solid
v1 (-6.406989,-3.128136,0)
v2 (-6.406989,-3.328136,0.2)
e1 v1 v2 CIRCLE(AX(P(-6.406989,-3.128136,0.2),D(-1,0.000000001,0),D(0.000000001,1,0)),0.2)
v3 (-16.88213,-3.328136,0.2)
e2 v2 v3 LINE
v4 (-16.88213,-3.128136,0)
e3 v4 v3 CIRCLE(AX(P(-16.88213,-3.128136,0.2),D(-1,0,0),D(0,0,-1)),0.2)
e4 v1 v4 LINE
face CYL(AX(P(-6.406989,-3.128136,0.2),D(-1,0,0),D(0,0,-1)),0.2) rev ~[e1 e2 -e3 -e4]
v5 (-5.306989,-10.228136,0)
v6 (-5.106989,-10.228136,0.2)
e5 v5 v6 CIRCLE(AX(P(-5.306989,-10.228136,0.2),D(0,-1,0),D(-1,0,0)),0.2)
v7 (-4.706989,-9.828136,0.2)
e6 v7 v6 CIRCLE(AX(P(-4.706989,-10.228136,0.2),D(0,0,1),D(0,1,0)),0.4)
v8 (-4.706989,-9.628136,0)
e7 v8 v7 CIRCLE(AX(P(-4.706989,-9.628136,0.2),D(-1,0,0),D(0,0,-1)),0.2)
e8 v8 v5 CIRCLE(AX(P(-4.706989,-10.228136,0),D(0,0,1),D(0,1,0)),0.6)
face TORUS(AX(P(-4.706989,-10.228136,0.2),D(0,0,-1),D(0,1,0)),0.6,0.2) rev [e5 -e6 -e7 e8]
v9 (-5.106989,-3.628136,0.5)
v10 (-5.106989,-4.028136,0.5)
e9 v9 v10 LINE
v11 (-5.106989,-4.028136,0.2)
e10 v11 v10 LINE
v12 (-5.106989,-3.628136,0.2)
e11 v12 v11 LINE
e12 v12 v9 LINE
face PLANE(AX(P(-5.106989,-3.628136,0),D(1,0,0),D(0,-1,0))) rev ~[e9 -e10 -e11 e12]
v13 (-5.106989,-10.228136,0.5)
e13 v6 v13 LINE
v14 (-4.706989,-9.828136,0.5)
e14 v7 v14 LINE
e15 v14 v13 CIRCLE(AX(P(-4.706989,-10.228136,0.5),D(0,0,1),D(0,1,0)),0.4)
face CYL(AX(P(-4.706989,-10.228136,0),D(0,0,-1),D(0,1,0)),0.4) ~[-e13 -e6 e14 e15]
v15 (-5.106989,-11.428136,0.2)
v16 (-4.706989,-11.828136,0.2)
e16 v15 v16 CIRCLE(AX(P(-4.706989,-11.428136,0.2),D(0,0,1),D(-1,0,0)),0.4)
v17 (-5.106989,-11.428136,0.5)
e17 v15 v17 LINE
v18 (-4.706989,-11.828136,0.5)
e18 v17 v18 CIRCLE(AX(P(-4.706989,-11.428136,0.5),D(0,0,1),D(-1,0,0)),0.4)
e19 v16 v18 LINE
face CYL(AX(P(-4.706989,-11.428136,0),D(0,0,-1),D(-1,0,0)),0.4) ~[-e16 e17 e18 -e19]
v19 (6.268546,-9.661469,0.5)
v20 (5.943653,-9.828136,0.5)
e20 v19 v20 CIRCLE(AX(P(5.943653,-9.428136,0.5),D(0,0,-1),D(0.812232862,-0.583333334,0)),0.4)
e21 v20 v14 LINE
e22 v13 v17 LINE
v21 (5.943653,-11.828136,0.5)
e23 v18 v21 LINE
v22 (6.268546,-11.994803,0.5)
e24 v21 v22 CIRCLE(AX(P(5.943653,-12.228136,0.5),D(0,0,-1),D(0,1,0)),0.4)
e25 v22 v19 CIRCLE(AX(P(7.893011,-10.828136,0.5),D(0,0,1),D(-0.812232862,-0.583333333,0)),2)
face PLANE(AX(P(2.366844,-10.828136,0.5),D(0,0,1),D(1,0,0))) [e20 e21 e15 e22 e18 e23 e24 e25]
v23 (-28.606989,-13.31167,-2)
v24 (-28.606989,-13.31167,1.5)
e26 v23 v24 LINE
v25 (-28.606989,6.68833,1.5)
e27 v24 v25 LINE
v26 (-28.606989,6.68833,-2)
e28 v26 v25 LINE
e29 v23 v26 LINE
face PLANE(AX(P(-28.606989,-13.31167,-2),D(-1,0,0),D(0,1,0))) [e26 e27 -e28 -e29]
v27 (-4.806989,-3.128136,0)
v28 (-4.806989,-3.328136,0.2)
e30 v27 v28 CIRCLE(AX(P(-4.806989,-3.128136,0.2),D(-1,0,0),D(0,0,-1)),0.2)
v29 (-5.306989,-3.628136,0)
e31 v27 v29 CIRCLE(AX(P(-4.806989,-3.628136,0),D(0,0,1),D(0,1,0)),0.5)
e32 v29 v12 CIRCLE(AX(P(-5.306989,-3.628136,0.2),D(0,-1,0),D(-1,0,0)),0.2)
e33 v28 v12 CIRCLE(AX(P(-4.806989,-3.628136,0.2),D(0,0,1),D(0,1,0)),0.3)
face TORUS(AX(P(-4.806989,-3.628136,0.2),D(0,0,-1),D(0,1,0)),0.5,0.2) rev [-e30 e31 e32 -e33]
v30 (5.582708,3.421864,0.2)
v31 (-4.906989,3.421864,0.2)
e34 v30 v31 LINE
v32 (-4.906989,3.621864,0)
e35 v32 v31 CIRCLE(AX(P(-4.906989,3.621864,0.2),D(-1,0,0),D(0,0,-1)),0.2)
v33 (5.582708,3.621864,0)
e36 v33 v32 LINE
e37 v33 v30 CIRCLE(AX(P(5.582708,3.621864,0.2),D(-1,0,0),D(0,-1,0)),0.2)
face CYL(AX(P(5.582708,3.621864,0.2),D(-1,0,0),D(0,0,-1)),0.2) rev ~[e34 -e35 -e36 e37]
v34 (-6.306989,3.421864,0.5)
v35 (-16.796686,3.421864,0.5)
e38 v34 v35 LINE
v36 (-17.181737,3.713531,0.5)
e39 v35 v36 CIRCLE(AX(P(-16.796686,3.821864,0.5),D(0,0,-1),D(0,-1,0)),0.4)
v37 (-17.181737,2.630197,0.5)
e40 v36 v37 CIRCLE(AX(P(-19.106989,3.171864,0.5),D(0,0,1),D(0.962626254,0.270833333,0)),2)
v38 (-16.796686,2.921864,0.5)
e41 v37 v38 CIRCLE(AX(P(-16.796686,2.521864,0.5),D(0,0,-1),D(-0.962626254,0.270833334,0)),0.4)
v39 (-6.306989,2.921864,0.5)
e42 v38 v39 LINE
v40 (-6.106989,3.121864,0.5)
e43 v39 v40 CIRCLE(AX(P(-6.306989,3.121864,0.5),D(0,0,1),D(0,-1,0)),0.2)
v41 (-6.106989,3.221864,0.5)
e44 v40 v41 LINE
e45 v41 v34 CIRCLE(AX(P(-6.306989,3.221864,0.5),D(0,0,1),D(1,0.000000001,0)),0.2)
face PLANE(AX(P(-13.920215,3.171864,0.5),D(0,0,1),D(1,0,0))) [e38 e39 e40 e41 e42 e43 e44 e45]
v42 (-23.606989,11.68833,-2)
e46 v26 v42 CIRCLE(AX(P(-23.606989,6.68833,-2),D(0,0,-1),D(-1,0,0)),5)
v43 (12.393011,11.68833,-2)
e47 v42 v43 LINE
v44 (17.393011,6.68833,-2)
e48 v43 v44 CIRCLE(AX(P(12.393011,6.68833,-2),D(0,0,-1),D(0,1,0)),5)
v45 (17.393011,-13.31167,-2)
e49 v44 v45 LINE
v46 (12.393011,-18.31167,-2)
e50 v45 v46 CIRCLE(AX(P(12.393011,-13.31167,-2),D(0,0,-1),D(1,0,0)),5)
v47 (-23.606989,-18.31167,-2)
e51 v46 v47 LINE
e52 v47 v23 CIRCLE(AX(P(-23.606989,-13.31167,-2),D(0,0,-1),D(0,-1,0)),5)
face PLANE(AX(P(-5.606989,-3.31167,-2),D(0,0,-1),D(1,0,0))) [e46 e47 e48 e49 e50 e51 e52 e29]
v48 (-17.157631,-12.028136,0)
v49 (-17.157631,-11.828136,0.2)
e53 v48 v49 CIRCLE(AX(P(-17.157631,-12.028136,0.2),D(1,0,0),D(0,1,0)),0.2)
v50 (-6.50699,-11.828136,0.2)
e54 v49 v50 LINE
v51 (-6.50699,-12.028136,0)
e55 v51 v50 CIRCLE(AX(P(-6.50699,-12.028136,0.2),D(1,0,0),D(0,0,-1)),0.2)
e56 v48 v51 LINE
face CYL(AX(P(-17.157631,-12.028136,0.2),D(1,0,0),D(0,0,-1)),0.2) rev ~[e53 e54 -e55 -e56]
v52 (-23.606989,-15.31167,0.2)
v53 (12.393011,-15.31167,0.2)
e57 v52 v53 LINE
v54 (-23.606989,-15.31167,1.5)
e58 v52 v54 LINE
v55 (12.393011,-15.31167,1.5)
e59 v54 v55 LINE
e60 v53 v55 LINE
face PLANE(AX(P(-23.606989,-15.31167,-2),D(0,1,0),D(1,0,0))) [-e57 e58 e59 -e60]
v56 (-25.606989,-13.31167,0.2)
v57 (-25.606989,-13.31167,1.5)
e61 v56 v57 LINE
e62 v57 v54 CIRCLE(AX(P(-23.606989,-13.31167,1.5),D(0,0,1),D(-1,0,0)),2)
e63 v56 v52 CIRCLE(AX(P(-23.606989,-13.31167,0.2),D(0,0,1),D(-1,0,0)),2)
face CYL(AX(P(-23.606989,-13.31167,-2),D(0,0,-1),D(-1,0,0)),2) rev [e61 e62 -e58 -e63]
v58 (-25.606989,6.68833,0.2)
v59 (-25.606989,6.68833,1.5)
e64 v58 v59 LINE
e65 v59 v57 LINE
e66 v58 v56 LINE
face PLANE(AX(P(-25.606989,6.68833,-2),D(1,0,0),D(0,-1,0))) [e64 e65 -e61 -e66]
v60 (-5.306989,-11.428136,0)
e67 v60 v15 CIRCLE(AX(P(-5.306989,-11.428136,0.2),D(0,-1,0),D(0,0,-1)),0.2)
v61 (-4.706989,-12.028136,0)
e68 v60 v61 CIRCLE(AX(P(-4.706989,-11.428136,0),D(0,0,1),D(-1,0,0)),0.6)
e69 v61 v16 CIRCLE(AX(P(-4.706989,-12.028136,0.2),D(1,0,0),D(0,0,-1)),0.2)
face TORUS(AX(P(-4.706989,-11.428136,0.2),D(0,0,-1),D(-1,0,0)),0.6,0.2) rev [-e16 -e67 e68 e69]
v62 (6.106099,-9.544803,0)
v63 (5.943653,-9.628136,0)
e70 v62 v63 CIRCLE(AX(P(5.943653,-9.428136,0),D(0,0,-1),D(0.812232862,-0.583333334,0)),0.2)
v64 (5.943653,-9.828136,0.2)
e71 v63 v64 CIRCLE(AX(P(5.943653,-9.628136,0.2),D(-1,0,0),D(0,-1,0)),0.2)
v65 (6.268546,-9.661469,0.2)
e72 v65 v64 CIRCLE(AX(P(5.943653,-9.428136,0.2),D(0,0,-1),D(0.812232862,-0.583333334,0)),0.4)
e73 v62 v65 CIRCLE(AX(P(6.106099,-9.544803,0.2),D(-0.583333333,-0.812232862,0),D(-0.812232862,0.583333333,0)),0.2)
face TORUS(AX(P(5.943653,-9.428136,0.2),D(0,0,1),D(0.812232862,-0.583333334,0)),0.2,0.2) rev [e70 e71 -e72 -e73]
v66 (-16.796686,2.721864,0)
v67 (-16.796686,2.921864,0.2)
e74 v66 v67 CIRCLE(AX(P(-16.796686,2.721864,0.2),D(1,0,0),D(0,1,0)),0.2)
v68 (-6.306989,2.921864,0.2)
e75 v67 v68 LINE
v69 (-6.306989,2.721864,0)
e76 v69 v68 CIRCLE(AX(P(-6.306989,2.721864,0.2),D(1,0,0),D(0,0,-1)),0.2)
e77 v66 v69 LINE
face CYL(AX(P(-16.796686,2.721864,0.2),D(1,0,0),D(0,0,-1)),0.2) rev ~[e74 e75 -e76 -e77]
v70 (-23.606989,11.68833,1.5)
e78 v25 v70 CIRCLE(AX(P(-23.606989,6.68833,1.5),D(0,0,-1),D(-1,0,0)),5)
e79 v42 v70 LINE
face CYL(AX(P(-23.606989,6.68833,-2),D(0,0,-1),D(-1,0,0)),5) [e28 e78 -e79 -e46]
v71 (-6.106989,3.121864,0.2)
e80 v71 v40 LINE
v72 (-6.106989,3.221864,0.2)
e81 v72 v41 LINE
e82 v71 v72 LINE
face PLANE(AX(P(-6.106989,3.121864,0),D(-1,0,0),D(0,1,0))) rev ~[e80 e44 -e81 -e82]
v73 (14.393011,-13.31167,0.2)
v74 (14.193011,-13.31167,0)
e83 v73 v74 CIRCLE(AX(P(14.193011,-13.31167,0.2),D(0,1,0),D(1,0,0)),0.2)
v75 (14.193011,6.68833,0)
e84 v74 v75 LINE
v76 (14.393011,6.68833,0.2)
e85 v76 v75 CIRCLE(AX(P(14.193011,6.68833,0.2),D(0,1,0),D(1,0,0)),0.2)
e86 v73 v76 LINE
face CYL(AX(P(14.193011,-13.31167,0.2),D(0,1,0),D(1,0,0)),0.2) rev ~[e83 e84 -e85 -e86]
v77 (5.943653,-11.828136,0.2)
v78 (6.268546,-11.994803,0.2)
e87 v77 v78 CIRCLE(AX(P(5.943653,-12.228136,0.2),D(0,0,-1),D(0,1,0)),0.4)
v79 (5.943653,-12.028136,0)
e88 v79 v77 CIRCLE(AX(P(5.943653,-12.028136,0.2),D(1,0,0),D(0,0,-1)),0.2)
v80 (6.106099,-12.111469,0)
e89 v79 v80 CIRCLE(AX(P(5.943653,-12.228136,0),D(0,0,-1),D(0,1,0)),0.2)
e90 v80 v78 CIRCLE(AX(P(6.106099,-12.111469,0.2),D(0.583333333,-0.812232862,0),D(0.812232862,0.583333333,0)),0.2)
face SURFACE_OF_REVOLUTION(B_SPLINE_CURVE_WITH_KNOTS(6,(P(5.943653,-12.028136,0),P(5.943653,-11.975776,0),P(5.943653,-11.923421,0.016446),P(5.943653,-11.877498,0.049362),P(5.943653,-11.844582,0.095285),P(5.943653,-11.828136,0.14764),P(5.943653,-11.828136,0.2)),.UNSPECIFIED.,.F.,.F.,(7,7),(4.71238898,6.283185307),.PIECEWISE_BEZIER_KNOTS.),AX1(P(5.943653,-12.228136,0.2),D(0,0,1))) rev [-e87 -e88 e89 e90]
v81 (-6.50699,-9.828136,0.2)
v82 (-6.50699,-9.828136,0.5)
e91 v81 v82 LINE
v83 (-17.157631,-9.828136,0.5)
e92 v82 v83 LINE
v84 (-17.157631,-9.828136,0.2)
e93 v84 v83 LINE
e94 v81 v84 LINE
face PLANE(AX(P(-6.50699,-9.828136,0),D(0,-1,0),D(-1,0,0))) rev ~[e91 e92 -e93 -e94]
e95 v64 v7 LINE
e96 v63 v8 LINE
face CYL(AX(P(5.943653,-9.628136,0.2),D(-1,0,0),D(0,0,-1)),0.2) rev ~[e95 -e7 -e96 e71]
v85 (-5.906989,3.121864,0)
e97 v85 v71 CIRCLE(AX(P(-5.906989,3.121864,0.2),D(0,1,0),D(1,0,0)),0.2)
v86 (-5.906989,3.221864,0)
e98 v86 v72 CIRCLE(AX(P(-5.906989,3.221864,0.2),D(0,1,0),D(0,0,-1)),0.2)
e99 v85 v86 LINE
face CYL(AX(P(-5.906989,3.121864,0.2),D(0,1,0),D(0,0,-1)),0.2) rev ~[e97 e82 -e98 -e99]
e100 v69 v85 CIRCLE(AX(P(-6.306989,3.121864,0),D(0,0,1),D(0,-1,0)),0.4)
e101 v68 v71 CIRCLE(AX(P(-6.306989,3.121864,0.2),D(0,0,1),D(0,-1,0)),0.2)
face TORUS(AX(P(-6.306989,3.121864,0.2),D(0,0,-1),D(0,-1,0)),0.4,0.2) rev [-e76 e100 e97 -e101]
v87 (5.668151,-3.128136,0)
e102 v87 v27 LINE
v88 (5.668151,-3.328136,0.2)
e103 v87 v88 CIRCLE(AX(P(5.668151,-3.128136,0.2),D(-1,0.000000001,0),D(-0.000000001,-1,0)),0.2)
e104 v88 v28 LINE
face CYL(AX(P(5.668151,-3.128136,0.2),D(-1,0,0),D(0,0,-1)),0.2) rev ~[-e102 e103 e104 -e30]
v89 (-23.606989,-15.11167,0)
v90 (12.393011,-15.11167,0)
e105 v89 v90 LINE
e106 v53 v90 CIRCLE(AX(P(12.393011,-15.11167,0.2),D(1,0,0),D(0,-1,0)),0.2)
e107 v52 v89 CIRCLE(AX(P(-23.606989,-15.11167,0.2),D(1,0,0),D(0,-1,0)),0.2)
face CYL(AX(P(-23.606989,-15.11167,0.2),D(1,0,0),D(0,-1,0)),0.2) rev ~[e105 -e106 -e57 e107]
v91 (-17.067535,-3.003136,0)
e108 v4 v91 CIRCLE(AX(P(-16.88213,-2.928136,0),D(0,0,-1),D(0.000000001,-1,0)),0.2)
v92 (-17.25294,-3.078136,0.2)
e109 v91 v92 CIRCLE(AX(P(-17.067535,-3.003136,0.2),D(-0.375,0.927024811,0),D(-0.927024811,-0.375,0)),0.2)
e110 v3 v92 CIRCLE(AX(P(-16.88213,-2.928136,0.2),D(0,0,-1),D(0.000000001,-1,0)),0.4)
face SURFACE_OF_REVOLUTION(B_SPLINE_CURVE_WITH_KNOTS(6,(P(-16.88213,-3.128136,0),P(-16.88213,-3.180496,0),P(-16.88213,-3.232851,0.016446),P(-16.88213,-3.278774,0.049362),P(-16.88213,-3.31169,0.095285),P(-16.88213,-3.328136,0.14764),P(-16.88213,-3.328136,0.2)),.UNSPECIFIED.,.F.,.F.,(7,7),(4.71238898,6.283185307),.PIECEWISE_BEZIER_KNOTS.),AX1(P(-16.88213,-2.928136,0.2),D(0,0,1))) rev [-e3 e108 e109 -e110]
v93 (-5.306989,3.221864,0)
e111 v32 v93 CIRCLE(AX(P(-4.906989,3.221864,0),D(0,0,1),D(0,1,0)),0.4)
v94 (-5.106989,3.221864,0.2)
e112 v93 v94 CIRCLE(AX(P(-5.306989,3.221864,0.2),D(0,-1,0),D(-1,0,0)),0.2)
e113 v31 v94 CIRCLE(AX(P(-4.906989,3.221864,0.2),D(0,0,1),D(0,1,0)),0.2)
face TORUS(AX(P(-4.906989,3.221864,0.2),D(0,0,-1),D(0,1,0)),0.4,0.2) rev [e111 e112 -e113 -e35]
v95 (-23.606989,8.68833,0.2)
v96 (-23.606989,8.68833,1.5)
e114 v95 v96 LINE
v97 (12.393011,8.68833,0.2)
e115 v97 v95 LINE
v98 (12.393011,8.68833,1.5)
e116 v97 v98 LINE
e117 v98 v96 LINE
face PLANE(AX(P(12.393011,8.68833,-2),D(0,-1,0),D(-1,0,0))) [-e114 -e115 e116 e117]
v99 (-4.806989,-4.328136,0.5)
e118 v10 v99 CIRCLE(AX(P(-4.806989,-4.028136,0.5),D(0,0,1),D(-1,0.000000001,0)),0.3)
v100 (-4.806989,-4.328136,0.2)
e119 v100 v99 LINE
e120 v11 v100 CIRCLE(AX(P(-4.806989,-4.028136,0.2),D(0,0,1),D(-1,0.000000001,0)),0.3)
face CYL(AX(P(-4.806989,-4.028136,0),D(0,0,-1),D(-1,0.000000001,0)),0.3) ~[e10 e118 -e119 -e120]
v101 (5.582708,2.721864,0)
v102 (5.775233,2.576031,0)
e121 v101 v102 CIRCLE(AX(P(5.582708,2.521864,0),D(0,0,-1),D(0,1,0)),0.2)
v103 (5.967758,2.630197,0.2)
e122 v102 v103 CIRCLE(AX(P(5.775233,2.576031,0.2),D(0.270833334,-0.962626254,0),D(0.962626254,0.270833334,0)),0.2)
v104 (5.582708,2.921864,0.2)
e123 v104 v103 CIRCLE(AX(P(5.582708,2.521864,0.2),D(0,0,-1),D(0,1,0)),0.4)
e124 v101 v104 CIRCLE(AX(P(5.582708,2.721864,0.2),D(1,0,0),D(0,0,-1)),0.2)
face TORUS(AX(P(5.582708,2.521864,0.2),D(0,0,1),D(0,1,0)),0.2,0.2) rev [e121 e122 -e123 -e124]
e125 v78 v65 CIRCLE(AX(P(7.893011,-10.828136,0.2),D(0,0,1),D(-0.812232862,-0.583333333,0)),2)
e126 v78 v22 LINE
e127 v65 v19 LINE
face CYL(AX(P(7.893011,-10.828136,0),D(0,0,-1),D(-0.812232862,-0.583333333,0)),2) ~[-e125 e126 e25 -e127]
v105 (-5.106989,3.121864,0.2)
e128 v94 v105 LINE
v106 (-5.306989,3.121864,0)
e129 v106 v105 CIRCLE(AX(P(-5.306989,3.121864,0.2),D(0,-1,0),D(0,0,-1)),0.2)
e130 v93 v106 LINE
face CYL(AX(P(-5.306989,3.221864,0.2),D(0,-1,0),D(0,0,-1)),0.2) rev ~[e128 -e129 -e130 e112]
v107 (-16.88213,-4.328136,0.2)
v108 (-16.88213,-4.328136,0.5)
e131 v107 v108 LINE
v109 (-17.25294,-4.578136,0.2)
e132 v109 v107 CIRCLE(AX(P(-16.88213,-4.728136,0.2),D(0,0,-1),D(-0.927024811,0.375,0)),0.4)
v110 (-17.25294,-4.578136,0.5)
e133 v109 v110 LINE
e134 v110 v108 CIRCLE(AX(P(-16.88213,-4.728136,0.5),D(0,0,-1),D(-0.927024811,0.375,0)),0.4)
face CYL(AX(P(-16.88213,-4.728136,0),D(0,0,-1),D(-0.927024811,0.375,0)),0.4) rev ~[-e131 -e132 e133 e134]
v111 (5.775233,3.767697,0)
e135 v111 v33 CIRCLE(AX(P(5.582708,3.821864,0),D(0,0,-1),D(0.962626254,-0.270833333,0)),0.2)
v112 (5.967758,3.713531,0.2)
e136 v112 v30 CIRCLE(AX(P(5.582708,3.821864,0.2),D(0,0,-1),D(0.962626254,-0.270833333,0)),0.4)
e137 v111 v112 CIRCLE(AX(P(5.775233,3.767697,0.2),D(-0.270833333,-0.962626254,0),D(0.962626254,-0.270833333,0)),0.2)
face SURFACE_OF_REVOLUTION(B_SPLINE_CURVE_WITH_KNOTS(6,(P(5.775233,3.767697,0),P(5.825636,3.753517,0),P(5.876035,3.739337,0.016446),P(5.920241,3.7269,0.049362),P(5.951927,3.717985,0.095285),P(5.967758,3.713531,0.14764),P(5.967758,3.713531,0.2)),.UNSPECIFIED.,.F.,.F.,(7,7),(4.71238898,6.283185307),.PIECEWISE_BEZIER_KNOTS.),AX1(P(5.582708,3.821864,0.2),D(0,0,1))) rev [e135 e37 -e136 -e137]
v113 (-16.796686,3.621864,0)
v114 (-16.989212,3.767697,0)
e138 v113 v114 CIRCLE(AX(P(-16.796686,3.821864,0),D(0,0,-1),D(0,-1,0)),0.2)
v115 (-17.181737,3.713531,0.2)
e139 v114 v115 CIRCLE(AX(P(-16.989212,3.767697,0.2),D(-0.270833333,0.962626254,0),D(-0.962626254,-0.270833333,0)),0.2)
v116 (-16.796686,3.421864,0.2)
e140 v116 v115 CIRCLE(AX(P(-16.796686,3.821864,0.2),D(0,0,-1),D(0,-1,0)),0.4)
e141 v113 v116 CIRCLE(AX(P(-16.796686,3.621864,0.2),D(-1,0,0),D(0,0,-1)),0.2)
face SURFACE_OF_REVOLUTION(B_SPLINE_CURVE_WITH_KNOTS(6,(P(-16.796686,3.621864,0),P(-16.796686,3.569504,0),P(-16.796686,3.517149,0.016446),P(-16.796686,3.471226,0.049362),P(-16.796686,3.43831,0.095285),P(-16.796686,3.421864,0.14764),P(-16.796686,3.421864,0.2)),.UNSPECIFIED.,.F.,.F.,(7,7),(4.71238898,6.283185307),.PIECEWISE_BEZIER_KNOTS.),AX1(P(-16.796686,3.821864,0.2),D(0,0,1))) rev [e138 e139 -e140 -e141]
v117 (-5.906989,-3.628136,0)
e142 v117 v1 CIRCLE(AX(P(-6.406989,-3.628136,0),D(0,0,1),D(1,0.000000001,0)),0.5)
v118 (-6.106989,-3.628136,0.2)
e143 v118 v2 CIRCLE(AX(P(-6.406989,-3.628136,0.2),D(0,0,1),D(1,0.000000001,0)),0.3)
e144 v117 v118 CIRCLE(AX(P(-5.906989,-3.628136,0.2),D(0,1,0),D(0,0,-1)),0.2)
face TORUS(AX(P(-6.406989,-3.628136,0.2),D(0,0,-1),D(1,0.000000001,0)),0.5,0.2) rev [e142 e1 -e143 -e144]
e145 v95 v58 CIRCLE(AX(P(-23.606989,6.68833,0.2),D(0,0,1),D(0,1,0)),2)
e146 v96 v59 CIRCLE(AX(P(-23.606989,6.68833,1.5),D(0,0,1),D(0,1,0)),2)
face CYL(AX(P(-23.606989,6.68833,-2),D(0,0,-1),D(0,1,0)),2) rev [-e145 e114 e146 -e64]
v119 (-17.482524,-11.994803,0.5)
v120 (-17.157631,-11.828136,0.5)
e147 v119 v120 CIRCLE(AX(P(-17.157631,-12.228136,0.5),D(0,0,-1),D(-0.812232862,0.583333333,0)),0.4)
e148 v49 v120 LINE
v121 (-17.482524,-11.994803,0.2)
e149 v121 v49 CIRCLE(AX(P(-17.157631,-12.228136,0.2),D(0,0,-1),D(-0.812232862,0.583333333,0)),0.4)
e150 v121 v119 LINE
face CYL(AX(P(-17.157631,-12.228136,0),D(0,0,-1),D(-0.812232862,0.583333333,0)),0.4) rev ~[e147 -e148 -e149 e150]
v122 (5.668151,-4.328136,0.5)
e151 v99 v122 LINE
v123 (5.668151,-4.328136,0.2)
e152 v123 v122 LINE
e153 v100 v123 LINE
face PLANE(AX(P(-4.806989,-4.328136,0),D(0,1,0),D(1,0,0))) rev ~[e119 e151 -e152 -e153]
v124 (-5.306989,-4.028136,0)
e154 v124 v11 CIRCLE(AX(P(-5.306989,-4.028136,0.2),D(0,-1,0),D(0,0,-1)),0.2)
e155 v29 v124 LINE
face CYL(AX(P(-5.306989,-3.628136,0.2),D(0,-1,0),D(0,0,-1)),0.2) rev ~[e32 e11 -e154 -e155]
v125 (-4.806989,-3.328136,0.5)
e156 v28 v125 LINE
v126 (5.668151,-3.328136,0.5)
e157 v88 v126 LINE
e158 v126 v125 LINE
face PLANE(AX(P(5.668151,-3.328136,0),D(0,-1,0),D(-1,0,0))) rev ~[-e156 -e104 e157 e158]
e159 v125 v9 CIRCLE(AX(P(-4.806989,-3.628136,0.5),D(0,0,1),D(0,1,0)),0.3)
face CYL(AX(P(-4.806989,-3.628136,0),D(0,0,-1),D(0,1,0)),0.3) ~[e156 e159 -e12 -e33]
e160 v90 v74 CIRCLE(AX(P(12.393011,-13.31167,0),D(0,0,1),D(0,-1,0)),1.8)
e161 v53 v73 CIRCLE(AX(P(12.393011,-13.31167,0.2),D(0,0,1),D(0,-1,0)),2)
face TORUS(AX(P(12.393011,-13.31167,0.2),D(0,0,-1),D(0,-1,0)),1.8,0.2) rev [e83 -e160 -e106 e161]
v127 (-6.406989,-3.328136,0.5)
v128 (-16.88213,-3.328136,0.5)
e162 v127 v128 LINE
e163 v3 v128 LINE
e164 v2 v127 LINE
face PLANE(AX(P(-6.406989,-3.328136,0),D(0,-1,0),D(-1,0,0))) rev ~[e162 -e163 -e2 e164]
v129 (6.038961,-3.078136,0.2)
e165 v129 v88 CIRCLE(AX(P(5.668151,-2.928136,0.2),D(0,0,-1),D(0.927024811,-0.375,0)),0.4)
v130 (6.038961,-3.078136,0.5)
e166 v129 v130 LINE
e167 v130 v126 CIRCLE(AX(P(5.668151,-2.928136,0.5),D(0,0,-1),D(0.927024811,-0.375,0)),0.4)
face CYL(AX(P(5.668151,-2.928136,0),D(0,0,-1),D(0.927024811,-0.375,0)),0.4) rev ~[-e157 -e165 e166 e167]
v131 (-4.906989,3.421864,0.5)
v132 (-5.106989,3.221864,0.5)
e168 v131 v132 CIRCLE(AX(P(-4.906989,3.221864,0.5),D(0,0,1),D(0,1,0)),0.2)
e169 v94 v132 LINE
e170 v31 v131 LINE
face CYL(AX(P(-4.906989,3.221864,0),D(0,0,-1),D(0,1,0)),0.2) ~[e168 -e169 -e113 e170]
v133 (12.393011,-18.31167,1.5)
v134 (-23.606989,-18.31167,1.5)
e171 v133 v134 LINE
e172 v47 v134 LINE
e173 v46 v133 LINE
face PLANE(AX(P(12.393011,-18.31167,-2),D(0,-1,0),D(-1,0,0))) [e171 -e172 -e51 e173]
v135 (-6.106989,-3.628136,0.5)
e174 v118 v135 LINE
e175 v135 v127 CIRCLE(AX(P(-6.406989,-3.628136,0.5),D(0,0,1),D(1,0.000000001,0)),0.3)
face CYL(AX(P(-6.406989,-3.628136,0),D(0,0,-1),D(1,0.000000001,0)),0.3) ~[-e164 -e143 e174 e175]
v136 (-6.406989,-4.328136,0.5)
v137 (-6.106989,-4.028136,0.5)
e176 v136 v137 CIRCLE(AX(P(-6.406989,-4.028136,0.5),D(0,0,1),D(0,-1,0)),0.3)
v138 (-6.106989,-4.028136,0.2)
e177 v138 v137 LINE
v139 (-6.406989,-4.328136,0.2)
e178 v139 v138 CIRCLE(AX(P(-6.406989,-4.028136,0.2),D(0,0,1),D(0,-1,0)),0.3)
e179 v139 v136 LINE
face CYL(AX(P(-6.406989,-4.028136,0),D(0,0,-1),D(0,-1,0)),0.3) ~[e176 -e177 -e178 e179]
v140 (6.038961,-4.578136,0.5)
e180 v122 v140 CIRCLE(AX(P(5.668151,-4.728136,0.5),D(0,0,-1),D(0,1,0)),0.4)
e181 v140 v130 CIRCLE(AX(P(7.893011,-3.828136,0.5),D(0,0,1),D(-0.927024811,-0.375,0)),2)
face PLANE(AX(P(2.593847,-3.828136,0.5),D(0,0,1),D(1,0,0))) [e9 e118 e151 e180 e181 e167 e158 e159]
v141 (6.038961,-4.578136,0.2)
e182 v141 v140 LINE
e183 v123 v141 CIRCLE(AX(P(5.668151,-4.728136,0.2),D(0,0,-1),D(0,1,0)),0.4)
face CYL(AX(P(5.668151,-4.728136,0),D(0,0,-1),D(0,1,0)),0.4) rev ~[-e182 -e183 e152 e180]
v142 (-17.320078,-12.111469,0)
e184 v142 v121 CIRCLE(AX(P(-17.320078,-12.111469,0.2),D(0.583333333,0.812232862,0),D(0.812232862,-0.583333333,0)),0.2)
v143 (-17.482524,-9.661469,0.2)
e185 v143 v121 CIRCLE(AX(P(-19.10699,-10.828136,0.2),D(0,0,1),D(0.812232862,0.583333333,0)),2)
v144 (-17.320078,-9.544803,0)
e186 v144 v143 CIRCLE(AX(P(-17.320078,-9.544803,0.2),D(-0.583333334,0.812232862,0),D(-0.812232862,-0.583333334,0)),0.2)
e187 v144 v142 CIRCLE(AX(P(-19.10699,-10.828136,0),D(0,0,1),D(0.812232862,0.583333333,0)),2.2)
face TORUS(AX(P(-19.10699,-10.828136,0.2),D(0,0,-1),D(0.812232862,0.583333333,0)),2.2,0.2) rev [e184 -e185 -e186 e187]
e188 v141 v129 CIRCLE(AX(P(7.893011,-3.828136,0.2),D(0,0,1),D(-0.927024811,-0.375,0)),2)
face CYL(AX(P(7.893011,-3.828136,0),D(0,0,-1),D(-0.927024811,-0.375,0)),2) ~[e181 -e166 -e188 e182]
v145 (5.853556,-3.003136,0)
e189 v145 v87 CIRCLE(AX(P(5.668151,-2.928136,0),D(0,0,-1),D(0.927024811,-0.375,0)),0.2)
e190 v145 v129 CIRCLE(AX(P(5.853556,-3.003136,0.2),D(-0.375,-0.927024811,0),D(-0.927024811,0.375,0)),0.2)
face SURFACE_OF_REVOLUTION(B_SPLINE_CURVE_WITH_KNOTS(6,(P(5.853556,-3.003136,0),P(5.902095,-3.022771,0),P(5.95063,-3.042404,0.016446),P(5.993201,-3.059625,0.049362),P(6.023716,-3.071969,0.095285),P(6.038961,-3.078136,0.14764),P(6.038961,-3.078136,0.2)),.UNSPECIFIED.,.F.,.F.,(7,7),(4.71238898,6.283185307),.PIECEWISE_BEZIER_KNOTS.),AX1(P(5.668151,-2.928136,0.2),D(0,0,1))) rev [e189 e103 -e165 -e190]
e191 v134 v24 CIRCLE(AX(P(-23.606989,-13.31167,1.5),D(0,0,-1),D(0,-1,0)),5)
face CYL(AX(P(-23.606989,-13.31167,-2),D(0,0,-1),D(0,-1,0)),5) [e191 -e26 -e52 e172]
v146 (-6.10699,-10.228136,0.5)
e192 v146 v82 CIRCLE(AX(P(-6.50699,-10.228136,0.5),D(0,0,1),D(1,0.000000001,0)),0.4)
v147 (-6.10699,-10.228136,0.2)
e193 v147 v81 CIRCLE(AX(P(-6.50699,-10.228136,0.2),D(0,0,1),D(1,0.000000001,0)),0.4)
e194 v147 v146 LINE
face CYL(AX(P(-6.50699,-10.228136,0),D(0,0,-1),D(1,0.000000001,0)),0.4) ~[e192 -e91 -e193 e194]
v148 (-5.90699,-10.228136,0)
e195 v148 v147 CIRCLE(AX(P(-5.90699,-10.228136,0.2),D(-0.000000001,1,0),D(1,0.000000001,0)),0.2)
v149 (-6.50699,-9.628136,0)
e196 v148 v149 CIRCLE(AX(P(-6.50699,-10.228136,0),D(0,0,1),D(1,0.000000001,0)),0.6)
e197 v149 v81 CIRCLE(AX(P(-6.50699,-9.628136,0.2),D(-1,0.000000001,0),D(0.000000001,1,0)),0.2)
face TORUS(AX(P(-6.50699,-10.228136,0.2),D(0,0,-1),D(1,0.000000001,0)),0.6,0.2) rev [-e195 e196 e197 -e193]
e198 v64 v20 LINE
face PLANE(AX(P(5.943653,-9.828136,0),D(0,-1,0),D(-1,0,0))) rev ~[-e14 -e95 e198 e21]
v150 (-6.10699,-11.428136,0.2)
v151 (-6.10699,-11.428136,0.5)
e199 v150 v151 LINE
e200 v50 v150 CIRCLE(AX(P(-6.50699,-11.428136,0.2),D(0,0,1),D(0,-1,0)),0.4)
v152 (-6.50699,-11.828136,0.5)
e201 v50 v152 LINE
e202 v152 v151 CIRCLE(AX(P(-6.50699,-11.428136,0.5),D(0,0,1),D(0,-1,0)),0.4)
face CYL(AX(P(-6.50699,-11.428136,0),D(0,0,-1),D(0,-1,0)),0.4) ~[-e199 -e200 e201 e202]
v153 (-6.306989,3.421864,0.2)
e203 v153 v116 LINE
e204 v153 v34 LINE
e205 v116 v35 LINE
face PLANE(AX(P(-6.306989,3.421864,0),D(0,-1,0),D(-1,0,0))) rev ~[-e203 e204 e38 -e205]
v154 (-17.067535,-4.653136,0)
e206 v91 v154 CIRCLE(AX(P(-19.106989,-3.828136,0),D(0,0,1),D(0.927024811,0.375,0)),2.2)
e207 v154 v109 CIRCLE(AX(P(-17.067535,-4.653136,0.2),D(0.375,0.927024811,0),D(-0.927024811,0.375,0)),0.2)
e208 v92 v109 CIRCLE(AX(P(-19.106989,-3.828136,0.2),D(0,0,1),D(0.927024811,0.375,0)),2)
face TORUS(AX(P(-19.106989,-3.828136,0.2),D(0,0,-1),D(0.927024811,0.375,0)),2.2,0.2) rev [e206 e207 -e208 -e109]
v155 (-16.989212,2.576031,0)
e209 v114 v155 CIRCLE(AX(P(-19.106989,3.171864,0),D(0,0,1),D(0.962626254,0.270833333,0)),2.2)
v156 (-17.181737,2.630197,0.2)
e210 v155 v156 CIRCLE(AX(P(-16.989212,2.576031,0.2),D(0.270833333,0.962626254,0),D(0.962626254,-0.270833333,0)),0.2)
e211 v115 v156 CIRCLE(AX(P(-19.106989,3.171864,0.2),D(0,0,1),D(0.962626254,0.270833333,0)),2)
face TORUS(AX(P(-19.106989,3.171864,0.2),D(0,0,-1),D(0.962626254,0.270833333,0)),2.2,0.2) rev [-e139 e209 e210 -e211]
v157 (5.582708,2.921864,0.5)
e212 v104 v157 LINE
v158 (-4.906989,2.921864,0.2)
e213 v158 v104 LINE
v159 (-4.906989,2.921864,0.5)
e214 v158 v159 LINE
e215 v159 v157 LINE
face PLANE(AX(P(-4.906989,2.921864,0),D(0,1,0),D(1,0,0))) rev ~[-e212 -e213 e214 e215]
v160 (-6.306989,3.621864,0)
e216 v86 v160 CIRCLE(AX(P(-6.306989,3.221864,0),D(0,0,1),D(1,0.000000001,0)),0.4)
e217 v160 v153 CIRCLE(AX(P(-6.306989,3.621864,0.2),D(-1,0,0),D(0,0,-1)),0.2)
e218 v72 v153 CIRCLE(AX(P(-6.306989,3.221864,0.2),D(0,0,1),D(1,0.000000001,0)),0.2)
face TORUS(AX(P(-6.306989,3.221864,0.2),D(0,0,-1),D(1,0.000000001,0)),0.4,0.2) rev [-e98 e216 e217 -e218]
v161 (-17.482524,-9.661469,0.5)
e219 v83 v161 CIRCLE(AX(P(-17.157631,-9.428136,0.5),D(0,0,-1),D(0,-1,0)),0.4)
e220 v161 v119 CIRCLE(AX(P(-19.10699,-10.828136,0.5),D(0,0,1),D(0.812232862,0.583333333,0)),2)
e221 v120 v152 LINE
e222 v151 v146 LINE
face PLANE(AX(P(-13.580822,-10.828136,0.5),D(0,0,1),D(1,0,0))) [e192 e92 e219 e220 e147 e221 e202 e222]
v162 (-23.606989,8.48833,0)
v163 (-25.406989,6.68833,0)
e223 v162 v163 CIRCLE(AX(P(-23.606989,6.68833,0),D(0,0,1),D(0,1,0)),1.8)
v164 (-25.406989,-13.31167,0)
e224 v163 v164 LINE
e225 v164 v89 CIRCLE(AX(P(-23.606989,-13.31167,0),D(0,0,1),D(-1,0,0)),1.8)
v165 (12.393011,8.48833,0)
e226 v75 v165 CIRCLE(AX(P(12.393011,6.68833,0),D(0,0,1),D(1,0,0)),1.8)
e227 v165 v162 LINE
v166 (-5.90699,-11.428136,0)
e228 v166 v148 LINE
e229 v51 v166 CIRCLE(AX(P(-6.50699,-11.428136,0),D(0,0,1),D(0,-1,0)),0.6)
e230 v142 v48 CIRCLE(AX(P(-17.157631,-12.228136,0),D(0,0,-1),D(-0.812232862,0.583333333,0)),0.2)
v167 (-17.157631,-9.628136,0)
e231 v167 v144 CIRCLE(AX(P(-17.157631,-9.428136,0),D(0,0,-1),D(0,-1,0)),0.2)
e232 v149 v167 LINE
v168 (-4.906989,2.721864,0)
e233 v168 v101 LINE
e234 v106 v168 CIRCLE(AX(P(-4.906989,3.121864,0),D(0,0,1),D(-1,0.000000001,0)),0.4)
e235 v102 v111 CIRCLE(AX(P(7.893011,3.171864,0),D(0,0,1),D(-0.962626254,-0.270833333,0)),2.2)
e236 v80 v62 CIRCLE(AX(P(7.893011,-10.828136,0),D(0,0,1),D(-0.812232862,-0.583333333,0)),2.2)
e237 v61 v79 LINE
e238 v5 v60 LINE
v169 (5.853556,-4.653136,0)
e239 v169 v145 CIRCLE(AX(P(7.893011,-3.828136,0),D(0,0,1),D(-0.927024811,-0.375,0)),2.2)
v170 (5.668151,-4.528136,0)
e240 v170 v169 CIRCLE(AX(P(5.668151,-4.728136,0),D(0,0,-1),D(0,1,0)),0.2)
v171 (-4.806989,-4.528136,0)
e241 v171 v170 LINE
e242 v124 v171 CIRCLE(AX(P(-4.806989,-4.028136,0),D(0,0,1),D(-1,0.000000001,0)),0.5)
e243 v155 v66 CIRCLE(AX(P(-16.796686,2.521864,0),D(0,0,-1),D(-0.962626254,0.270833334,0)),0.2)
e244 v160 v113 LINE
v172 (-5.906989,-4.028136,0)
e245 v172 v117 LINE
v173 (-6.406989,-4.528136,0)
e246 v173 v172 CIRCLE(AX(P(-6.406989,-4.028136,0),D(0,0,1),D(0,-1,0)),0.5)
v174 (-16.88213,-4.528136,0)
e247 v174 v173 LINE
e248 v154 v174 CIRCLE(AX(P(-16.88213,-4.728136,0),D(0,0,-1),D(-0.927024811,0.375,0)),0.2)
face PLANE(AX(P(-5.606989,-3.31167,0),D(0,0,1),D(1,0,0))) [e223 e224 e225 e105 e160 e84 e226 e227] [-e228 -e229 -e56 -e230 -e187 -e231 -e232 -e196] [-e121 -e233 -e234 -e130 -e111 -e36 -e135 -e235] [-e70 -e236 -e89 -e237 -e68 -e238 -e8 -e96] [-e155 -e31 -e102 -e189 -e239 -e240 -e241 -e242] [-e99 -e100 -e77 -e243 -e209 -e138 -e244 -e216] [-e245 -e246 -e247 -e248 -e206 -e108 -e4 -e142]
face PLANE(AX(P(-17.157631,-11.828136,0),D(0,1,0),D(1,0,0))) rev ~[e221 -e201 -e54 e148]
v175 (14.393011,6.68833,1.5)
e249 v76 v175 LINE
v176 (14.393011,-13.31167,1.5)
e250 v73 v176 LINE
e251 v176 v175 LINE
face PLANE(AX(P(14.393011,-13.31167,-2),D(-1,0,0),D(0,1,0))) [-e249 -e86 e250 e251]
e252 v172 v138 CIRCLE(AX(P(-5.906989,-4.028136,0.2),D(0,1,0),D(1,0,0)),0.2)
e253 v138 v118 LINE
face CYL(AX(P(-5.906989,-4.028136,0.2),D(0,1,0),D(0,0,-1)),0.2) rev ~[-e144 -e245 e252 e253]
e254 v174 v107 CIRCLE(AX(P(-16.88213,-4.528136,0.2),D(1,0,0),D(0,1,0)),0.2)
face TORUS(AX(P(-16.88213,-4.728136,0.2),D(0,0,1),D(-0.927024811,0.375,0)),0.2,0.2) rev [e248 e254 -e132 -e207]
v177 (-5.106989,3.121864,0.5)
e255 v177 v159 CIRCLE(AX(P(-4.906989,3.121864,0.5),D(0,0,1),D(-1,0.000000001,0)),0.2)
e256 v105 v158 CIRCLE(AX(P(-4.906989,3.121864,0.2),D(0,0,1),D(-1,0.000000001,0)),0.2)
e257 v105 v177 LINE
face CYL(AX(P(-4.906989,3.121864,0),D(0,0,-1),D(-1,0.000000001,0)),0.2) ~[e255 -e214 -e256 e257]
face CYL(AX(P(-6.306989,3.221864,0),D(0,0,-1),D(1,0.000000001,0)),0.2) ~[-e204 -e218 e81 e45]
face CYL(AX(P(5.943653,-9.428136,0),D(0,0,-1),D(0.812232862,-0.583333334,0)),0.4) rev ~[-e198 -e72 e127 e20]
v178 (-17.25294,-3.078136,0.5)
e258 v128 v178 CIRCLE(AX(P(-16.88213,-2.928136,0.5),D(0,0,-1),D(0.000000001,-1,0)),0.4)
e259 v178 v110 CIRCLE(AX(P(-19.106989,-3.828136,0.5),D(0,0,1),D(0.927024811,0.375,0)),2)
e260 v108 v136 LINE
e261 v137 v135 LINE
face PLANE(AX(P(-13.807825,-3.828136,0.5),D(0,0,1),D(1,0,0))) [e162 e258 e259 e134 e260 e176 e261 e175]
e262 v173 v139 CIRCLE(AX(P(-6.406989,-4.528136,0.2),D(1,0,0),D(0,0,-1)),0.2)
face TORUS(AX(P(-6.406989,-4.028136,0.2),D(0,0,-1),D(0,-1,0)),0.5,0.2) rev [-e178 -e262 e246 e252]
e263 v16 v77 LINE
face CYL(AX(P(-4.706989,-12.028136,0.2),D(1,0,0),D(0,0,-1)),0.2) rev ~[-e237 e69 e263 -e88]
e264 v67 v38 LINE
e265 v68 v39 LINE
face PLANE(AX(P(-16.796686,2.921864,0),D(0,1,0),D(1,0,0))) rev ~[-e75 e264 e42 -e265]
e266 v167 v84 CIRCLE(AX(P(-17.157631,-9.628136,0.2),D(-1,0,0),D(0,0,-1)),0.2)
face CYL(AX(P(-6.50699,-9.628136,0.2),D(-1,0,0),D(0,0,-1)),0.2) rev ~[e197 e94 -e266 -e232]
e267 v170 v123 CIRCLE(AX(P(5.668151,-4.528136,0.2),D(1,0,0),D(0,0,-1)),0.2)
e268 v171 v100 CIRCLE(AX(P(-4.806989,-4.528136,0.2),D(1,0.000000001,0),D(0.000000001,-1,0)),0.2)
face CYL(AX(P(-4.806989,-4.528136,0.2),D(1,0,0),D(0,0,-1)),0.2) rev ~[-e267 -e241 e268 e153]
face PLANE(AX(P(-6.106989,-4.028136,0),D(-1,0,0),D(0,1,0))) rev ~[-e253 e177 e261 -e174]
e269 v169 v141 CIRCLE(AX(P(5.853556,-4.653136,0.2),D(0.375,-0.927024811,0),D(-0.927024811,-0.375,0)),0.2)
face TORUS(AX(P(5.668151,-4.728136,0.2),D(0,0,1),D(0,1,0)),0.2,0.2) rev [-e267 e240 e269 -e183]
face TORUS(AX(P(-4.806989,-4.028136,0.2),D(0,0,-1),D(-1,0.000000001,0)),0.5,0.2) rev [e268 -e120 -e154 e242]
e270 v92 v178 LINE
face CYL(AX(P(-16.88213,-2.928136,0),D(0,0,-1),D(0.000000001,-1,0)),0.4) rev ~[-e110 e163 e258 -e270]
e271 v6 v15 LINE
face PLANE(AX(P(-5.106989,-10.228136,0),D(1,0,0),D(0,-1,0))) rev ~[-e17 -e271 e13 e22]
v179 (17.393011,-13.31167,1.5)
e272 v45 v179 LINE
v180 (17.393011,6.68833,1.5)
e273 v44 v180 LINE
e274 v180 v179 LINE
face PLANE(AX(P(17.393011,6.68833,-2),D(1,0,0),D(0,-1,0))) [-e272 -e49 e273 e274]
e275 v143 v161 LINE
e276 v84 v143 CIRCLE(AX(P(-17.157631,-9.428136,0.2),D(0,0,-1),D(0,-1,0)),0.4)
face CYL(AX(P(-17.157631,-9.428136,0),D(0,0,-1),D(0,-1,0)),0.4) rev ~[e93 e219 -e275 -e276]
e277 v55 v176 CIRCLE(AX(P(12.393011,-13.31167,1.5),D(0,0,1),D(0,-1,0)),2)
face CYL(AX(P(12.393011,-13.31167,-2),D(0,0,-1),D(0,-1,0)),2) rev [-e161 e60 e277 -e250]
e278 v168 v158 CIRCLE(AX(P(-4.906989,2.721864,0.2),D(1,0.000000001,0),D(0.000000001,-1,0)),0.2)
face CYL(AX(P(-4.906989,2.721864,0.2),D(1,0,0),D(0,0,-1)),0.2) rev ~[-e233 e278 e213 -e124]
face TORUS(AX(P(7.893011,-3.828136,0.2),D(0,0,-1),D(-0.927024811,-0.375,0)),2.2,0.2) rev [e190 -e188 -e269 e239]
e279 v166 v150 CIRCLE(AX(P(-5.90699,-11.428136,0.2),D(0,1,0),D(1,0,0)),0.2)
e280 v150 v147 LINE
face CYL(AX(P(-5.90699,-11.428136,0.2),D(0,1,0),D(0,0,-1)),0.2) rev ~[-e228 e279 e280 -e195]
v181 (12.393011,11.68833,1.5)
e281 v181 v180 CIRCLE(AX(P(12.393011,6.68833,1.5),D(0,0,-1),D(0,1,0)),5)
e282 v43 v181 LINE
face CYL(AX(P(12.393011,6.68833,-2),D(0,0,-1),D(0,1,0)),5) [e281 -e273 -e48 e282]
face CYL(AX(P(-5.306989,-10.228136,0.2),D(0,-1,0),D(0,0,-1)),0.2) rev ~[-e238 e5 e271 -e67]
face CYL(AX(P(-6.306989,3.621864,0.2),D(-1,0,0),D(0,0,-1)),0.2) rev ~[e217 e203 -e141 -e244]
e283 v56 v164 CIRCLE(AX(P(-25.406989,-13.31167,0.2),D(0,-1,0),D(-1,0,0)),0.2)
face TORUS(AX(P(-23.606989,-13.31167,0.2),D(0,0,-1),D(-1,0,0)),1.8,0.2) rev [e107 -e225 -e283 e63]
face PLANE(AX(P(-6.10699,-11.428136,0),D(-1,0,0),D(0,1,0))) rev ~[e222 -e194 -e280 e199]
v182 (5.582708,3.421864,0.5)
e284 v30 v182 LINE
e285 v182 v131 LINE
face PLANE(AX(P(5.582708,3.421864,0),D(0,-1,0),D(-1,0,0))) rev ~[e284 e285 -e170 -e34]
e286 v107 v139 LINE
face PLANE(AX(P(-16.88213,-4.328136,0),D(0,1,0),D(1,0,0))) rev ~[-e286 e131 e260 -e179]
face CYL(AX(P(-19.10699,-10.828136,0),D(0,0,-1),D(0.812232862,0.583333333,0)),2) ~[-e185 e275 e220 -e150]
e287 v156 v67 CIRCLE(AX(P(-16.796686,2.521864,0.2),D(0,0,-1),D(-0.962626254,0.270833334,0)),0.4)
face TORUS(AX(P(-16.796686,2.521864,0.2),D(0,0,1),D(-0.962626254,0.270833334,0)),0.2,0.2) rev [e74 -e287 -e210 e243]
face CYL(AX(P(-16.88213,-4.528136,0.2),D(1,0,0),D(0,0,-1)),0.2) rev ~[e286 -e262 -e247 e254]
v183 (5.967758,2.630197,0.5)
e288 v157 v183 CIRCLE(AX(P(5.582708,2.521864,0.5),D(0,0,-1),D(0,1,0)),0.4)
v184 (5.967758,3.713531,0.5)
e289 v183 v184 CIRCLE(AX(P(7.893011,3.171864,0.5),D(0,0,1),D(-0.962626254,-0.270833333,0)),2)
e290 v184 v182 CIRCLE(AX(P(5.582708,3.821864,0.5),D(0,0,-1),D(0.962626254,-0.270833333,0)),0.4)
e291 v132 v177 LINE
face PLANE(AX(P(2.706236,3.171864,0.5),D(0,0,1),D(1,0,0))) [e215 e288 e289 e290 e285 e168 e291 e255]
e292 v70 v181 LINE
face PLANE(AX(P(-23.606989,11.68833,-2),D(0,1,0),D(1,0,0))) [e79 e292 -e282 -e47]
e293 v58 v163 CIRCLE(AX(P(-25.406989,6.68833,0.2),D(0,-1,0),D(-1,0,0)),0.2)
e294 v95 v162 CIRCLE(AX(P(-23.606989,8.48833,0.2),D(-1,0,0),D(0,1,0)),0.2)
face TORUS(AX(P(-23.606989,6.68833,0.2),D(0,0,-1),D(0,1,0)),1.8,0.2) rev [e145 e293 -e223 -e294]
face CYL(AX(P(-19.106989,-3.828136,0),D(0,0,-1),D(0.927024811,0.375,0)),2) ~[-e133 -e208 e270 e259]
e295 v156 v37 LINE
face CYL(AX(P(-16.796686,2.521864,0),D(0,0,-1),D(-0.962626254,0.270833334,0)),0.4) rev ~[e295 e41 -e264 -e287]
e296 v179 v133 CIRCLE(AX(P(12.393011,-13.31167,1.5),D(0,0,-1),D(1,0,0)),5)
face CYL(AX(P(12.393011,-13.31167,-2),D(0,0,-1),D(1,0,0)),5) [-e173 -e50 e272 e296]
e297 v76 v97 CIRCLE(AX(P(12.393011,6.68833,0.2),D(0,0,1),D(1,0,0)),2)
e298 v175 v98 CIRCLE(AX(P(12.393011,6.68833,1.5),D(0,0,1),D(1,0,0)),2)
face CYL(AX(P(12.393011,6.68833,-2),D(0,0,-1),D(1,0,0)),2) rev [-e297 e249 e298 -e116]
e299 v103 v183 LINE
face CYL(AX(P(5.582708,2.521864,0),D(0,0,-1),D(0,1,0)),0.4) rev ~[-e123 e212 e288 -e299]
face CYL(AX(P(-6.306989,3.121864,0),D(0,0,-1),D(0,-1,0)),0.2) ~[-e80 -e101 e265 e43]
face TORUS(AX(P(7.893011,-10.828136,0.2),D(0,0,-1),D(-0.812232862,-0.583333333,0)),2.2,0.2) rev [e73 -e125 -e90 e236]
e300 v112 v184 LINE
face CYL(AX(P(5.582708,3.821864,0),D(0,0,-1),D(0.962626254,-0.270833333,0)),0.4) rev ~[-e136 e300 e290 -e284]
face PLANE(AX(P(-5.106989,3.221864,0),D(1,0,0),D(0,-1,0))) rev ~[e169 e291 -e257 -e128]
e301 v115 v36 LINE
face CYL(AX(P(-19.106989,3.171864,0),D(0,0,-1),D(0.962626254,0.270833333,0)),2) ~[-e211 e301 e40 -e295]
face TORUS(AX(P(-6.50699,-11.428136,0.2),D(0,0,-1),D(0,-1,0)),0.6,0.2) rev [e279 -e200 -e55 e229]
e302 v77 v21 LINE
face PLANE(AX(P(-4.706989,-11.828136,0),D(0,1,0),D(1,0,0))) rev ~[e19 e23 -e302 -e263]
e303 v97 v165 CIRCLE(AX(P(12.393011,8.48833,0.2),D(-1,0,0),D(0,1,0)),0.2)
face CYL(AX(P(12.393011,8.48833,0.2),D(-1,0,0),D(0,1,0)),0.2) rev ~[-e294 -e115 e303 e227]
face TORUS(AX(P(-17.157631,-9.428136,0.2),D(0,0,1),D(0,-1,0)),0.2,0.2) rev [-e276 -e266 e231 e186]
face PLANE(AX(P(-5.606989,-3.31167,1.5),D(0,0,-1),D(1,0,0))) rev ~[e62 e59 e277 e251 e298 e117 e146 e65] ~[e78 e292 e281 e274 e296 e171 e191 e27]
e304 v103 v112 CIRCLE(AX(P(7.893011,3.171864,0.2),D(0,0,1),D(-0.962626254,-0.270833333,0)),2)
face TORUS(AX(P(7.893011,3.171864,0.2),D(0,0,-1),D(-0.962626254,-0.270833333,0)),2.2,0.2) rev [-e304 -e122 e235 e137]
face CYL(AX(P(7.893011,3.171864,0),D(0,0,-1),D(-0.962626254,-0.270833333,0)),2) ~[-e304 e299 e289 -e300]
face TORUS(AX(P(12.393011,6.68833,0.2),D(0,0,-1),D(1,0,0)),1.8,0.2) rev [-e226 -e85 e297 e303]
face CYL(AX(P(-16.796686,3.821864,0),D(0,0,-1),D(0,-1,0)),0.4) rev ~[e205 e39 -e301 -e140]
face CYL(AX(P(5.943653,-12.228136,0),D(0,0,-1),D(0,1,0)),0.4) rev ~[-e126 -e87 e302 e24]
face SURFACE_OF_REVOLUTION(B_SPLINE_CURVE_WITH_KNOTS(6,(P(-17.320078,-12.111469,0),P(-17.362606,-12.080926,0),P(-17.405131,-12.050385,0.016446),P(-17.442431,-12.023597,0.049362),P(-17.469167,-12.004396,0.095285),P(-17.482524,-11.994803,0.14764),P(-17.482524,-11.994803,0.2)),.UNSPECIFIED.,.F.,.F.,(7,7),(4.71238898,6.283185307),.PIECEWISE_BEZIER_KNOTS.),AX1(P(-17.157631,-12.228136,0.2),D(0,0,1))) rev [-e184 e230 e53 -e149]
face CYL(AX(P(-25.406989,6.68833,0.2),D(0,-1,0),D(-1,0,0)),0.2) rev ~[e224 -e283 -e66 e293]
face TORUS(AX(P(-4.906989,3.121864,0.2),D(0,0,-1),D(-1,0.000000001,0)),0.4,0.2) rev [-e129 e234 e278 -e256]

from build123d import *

# Parameters (mm, degrees)
F2_DEPTH = 2
F3_R     = 2
F4_DEPTH = 0.5
F6_DEPTH = 3.5
F7_R     = 0.2


with BuildPart() as f2:
    # F1 (on Top) → F2 (new body)
    with BuildSketch(Plane.XY):
        Polygon((14.393010688, 8.6883302754), (-5.606989312, 8.6883302754), (-25.606989312, 8.6883302754), (-25.606989312, -3.3116697246), (-25.606989312, -15.3116697246), (-5.606989312, -15.3116697246), (14.393010688, -15.3116697246), (14.393010688, -3.3116697246), align=None)
    extrude(amount=-F2_DEPTH)

    # F3
    f3_edges = [f2.edges().sort_by_distance(p)[0] for p in [
        (-25.606989, -15.31167, -1),
        (14.393011, -15.31167, -1),
        (14.393011, 8.68833, -1),
        (-25.606989, 8.68833, -1),
    ]]
    fillet(f3_edges, radius=F3_R)

    # F0 (on Top) → F4 (join)
    with BuildSketch(Plane.XY):
        with BuildLine():
            Line((-6.306989312, 3.4218639718), (-16.106989312, 3.4218639718))
            Line((-16.106989312, 3.4218639718), (-16.7966863016, 3.4218639718))
            ThreePointArc((-16.7966863016, 3.4218639718), (-17.0382092474, 3.5030118639), (-17.1817368034, 3.7135306384))
            ThreePointArc((-17.1817368034, 3.7135306384), (-21.106989312, 3.1718639718), (-17.1817368034, 2.6301973051))
            ThreePointArc((-17.1817368034, 2.6301973051), (-17.0382092474, 2.8407160796), (-16.7966863016, 2.9218639718))
            Line((-16.7966863016, 2.9218639718), (-16.106989312, 2.9218639718))
            Line((-16.106989312, 2.9218639718), (-6.306989312, 2.9218639718))
            ThreePointArc((-6.306989312, 2.9218639718), (-6.1655679558, 2.9804426155), (-6.106989312, 3.1218639718))
            Line((-6.106989312, 3.1218639718), (-6.106989312, 3.1718639718))
            Line((-6.106989312, 3.1718639718), (-6.106989312, 3.2218639718))
            ThreePointArc((-6.106989312, 3.2218639718), (-6.1655679558, 3.363285328), (-6.306989312, 3.4218639718))
        make_face()
        with BuildLine():
            Line((-6.106989312, -4.0281360282), (-6.106989312, -3.8281360282))
            Line((-6.106989312, -3.8281360282), (-6.106989312, -3.6281360282))
            ThreePointArc((-6.106989312, -3.6281360282), (-6.1948572777, -3.4160039939), (-6.406989312, -3.3281360282))
            Line((-6.406989312, -3.3281360282), (-16.106989312, -3.3281360282))
            Line((-16.106989312, -3.3281360282), (-16.8821297659, -3.3281360282))
            ThreePointArc((-16.8821297659, -3.3281360282), (-17.1057365637, -3.2597985073), (-17.2529396903, -3.0781360282))
            ThreePointArc((-17.2529396903, -3.0781360282), (-21.106989312, -3.8281360282), (-17.2529396903, -4.5781360282))
            ThreePointArc((-17.2529396903, -4.5781360282), (-17.1057365637, -4.3964735492), (-16.8821297659, -4.3281360282))
            Line((-16.8821297659, -4.3281360282), (-16.106989312, -4.3281360282))
            Line((-16.106989312, -4.3281360282), (-6.406989312, -4.3281360282))
            ThreePointArc((-6.406989312, -4.3281360282), (-6.1948572777, -4.2402680626), (-6.106989312, -4.0281360282))
        make_face()
        with BuildLine():
            ThreePointArc((-6.1069900542, -10.2281360282), (-6.2241473418, -9.9452933158), (-6.5069900542, -9.8281360282))
            Line((-6.5069900542, -9.8281360282), (-16.1069900542, -9.8281360282))
            Line((-16.1069900542, -9.8281360282), (-17.1576311853, -9.8281360282))
            ThreePointArc((-17.1576311853, -9.8281360282), (-17.3402053711, -9.7840386366), (-17.4825243301, -9.6614693616))
            ThreePointArc((-17.4825243301, -9.6614693616), (-21.1069900542, -10.8281360282), (-17.4825243301, -11.9948026949))
            ThreePointArc((-17.4825243301, -11.9948026949), (-17.3402053711, -11.8722334198), (-17.1576311853, -11.8281360282))
            Line((-17.1576311853, -11.8281360282), (-16.1069900542, -11.8281360282))
            Line((-16.1069900542, -11.8281360282), (-6.5069900542, -11.8281360282))
            ThreePointArc((-6.5069900542, -11.8281360282), (-6.2241473418, -11.7109787407), (-6.1069900542, -11.4281360282))
            Line((-6.1069900542, -11.4281360282), (-6.1069900542, -10.8281360282))
            Line((-6.1069900542, -10.8281360282), (-6.1069900542, -10.2281360282))
        make_face()
        with BuildLine():
            Line((-5.106989312, 3.1718639718), (-5.106989312, 3.1218639718))
            ThreePointArc((-5.106989312, 3.1218639718), (-5.0484106683, 2.9804426155), (-4.906989312, 2.9218639718))
            Line((-4.906989312, 2.9218639718), (4.893010688, 2.9218639718))
            Line((4.893010688, 2.9218639718), (5.5827076775, 2.9218639718))
            ThreePointArc((5.5827076775, 2.9218639718), (5.8242306233, 2.8407160796), (5.9677581793, 2.6301973051))
            ThreePointArc((5.9677581793, 2.6301973051), (9.893010688, 3.1718639718), (5.9677581793, 3.7135306384))
            ThreePointArc((5.9677581793, 3.7135306384), (5.8242306233, 3.5030118639), (5.5827076775, 3.4218639718))
            Line((5.5827076775, 3.4218639718), (4.893010688, 3.4218639718))
            Line((4.893010688, 3.4218639718), (-4.906989312, 3.4218639718))
            ThreePointArc((-4.906989312, 3.4218639718), (-5.0484106683, 3.363285328), (-5.106989312, 3.2218639718))
            Line((-5.106989312, 3.2218639718), (-5.106989312, 3.1718639718))
        make_face()
        with BuildLine():
            Line((-5.106989312, -3.6281360282), (-5.106989312, -3.8281360282))
            Line((-5.106989312, -3.8281360282), (-5.106989312, -4.0281360282))
            ThreePointArc((-5.106989312, -4.0281360282), (-5.0191213464, -4.2402680626), (-4.806989312, -4.3281360282))
            Line((-4.806989312, -4.3281360282), (4.893010688, -4.3281360282))
            Line((4.893010688, -4.3281360282), (5.6681511418, -4.3281360282))
            ThreePointArc((5.6681511418, -4.3281360282), (5.8917579396, -4.3964735492), (6.0389610662, -4.5781360282))
            ThreePointArc((6.0389610662, -4.5781360282), (9.893010688, -3.8281360282), (6.0389610662, -3.0781360282))
            ThreePointArc((6.0389610662, -3.0781360282), (5.8917579396, -3.2597985073), (5.6681511418, -3.3281360282))
            Line((5.6681511418, -3.3281360282), (4.893010688, -3.3281360282))
            Line((4.893010688, -3.3281360282), (-4.806989312, -3.3281360282))
            ThreePointArc((-4.806989312, -3.3281360282), (-5.0191213464, -3.4160039939), (-5.106989312, -3.6281360282))
        make_face()
        with BuildLine():
            Line((4.8930114302, -11.8281360282), (5.9436525612, -11.8281360282))
            ThreePointArc((5.9436525612, -11.8281360282), (6.126226747, -11.8722334198), (6.268545706, -11.9948026949))
            ThreePointArc((6.268545706, -11.9948026949), (9.8930114302, -10.8281360282), (6.268545706, -9.6614693616))
            ThreePointArc((6.268545706, -9.6614693616), (6.126226747, -9.7840386366), (5.9436525612, -9.8281360282))
            Line((5.9436525612, -9.8281360282), (4.8930114302, -9.8281360282))
            Line((4.8930114302, -9.8281360282), (-4.7069885698, -9.8281360282))
            ThreePointArc((-4.7069885698, -9.8281360282), (-4.9898312823, -9.9452933158), (-5.1069885698, -10.2281360282))
            Line((-5.1069885698, -10.2281360282), (-5.1069885698, -10.8281360282))
            Line((-5.1069885698, -10.8281360282), (-5.1069885698, -11.4281360282))
            ThreePointArc((-5.1069885698, -11.4281360282), (-4.9898312823, -11.7109787407), (-4.7069885698, -11.8281360282))
            Line((-4.7069885698, -11.8281360282), (4.8930114302, -11.8281360282))
        make_face()
    extrude(amount=F4_DEPTH)

    # F5 (on face) → F6 (join)
    with BuildSketch(Plane(origin=(0, 0, -2), x_dir=(1, 0, 0), z_dir=(0, 0, -1))):
        with BuildLine():
            Line((12.393010688, 18.3116697246), (-23.606989312, 18.3116697246))
            ThreePointArc((-23.606989312, 18.3116697246), (-27.142523218, 16.8472036305), (-28.606989312, 13.3116697246))
            Line((-28.606989312, 13.3116697246), (-28.606989312, -6.6883302754))
            ThreePointArc((-28.606989312, -6.6883302754), (-27.142523218, -10.2238641814), (-23.606989312, -11.6883302754))
            Line((-23.606989312, -11.6883302754), (12.393010688, -11.6883302754))
            ThreePointArc((12.393010688, -11.6883302754), (15.9285445939, -10.2238641814), (17.393010688, -6.6883302754))
            Line((17.393010688, -6.6883302754), (17.393010688, 13.3116697246))
            ThreePointArc((17.393010688, 13.3116697246), (15.9285445939, 16.8472036305), (12.393010688, 18.3116697246))
        make_face()
        with BuildLine():
            Line((12.393010688, -8.6883302754), (-23.606989312, -8.6883302754))
            ThreePointArc((-23.606989312, -8.6883302754), (-25.0212028744, -8.1025438378), (-25.606989312, -6.6883302754))
            Line((-25.606989312, -6.6883302754), (-25.606989312, 13.3116697246))
            ThreePointArc((-25.606989312, 13.3116697246), (-25.0212028744, 14.7258832869), (-23.606989312, 15.3116697246))
            Line((-23.606989312, 15.3116697246), (12.393010688, 15.3116697246))
            ThreePointArc((12.393010688, 15.3116697246), (13.8072242503, 14.7258832869), (14.393010688, 13.3116697246))
            Line((14.393010688, 13.3116697246), (14.393010688, -6.6883302754))
            ThreePointArc((14.393010688, -6.6883302754), (13.8072242503, -8.1025438378), (12.393010688, -8.6883302754))
        make_face(mode=Mode.SUBTRACT)
    extrude(amount=-F6_DEPTH)

    # F7
    f7_edges = [f2.edges().sort_by_distance(p)[0] for p in [
        (-5.606989, 8.68833, 0),
        (-25.021203, 8.102544, 0),
        (13.807224, 8.102544, 0),
        (-25.606989, -3.31167, 0),
        (14.393011, -3.31167, 0),
        (-25.021203, -14.725883, 0),
        (13.807224, -14.725883, 0),
        (-5.606989, -15.31167, 0),
        (-6.224147, -9.945293, 0),
        (-11.832311, -9.828136, 0),
        (-17.340205, -9.784039, 0),
        (-21.10699, -10.828136, 0),
        (-17.340205, -11.872233, 0),
        (-11.832311, -11.828136, 0),
        (-6.224147, -11.710979, 0),
        (-6.10699, -10.828136, 0),
        (0.618332, -11.828136, 0),
        (6.126227, -11.872233, 0),
        (9.893011, -10.828136, 0),
        (6.126227, -9.784039, 0),
        (0.618332, -9.828136, 0),
        (-4.989831, -9.945293, 0),
        (-5.106989, -10.828136, 0),
        (-4.989831, -11.710979, 0),
        (-17.105737, -4.396474, 0),
        (-11.64456, -4.328136, 0),
        (-6.194857, -4.240268, 0),
        (-6.106989, -3.828136, 0),
        (-6.194857, -3.416004, 0),
        (-11.64456, -3.328136, 0),
        (-17.105737, -3.259799, 0),
        (-21.106989, -3.828136, 0),
        (-11.551838, 3.421864, 0),
        (-17.038209, 3.503012, 0),
        (-21.106989, 3.171864, 0),
        (-17.038209, 2.840716, 0),
        (-11.551838, 2.921864, 0),
        (-6.165568, 2.980443, 0),
        (-6.106989, 3.171864, 0),
        (-6.165568, 3.363285, 0),
        (9.893011, -3.828136, 0),
        (5.891758, -3.259799, 0),
        (0.430581, -3.328136, 0),
        (-5.019121, -3.416004, 0),
        (-5.106989, -3.828136, 0),
        (-5.019121, -4.240268, 0),
        (0.430581, -4.328136, 0),
        (5.891758, -4.396474, 0),
        (5.824231, 3.503012, 0),
        (0.337859, 3.421864, 0),
        (-5.048411, 3.363285, 0),
        (-5.106989, 3.171864, 0),
        (-5.048411, 2.980443, 0),
        (0.337859, 2.921864, 0),
        (5.824231, 2.840716, 0),
        (9.893011, 3.171864, 0),
    ]]
    fillet(f7_edges, radius=F7_R)


solid = f2.part
